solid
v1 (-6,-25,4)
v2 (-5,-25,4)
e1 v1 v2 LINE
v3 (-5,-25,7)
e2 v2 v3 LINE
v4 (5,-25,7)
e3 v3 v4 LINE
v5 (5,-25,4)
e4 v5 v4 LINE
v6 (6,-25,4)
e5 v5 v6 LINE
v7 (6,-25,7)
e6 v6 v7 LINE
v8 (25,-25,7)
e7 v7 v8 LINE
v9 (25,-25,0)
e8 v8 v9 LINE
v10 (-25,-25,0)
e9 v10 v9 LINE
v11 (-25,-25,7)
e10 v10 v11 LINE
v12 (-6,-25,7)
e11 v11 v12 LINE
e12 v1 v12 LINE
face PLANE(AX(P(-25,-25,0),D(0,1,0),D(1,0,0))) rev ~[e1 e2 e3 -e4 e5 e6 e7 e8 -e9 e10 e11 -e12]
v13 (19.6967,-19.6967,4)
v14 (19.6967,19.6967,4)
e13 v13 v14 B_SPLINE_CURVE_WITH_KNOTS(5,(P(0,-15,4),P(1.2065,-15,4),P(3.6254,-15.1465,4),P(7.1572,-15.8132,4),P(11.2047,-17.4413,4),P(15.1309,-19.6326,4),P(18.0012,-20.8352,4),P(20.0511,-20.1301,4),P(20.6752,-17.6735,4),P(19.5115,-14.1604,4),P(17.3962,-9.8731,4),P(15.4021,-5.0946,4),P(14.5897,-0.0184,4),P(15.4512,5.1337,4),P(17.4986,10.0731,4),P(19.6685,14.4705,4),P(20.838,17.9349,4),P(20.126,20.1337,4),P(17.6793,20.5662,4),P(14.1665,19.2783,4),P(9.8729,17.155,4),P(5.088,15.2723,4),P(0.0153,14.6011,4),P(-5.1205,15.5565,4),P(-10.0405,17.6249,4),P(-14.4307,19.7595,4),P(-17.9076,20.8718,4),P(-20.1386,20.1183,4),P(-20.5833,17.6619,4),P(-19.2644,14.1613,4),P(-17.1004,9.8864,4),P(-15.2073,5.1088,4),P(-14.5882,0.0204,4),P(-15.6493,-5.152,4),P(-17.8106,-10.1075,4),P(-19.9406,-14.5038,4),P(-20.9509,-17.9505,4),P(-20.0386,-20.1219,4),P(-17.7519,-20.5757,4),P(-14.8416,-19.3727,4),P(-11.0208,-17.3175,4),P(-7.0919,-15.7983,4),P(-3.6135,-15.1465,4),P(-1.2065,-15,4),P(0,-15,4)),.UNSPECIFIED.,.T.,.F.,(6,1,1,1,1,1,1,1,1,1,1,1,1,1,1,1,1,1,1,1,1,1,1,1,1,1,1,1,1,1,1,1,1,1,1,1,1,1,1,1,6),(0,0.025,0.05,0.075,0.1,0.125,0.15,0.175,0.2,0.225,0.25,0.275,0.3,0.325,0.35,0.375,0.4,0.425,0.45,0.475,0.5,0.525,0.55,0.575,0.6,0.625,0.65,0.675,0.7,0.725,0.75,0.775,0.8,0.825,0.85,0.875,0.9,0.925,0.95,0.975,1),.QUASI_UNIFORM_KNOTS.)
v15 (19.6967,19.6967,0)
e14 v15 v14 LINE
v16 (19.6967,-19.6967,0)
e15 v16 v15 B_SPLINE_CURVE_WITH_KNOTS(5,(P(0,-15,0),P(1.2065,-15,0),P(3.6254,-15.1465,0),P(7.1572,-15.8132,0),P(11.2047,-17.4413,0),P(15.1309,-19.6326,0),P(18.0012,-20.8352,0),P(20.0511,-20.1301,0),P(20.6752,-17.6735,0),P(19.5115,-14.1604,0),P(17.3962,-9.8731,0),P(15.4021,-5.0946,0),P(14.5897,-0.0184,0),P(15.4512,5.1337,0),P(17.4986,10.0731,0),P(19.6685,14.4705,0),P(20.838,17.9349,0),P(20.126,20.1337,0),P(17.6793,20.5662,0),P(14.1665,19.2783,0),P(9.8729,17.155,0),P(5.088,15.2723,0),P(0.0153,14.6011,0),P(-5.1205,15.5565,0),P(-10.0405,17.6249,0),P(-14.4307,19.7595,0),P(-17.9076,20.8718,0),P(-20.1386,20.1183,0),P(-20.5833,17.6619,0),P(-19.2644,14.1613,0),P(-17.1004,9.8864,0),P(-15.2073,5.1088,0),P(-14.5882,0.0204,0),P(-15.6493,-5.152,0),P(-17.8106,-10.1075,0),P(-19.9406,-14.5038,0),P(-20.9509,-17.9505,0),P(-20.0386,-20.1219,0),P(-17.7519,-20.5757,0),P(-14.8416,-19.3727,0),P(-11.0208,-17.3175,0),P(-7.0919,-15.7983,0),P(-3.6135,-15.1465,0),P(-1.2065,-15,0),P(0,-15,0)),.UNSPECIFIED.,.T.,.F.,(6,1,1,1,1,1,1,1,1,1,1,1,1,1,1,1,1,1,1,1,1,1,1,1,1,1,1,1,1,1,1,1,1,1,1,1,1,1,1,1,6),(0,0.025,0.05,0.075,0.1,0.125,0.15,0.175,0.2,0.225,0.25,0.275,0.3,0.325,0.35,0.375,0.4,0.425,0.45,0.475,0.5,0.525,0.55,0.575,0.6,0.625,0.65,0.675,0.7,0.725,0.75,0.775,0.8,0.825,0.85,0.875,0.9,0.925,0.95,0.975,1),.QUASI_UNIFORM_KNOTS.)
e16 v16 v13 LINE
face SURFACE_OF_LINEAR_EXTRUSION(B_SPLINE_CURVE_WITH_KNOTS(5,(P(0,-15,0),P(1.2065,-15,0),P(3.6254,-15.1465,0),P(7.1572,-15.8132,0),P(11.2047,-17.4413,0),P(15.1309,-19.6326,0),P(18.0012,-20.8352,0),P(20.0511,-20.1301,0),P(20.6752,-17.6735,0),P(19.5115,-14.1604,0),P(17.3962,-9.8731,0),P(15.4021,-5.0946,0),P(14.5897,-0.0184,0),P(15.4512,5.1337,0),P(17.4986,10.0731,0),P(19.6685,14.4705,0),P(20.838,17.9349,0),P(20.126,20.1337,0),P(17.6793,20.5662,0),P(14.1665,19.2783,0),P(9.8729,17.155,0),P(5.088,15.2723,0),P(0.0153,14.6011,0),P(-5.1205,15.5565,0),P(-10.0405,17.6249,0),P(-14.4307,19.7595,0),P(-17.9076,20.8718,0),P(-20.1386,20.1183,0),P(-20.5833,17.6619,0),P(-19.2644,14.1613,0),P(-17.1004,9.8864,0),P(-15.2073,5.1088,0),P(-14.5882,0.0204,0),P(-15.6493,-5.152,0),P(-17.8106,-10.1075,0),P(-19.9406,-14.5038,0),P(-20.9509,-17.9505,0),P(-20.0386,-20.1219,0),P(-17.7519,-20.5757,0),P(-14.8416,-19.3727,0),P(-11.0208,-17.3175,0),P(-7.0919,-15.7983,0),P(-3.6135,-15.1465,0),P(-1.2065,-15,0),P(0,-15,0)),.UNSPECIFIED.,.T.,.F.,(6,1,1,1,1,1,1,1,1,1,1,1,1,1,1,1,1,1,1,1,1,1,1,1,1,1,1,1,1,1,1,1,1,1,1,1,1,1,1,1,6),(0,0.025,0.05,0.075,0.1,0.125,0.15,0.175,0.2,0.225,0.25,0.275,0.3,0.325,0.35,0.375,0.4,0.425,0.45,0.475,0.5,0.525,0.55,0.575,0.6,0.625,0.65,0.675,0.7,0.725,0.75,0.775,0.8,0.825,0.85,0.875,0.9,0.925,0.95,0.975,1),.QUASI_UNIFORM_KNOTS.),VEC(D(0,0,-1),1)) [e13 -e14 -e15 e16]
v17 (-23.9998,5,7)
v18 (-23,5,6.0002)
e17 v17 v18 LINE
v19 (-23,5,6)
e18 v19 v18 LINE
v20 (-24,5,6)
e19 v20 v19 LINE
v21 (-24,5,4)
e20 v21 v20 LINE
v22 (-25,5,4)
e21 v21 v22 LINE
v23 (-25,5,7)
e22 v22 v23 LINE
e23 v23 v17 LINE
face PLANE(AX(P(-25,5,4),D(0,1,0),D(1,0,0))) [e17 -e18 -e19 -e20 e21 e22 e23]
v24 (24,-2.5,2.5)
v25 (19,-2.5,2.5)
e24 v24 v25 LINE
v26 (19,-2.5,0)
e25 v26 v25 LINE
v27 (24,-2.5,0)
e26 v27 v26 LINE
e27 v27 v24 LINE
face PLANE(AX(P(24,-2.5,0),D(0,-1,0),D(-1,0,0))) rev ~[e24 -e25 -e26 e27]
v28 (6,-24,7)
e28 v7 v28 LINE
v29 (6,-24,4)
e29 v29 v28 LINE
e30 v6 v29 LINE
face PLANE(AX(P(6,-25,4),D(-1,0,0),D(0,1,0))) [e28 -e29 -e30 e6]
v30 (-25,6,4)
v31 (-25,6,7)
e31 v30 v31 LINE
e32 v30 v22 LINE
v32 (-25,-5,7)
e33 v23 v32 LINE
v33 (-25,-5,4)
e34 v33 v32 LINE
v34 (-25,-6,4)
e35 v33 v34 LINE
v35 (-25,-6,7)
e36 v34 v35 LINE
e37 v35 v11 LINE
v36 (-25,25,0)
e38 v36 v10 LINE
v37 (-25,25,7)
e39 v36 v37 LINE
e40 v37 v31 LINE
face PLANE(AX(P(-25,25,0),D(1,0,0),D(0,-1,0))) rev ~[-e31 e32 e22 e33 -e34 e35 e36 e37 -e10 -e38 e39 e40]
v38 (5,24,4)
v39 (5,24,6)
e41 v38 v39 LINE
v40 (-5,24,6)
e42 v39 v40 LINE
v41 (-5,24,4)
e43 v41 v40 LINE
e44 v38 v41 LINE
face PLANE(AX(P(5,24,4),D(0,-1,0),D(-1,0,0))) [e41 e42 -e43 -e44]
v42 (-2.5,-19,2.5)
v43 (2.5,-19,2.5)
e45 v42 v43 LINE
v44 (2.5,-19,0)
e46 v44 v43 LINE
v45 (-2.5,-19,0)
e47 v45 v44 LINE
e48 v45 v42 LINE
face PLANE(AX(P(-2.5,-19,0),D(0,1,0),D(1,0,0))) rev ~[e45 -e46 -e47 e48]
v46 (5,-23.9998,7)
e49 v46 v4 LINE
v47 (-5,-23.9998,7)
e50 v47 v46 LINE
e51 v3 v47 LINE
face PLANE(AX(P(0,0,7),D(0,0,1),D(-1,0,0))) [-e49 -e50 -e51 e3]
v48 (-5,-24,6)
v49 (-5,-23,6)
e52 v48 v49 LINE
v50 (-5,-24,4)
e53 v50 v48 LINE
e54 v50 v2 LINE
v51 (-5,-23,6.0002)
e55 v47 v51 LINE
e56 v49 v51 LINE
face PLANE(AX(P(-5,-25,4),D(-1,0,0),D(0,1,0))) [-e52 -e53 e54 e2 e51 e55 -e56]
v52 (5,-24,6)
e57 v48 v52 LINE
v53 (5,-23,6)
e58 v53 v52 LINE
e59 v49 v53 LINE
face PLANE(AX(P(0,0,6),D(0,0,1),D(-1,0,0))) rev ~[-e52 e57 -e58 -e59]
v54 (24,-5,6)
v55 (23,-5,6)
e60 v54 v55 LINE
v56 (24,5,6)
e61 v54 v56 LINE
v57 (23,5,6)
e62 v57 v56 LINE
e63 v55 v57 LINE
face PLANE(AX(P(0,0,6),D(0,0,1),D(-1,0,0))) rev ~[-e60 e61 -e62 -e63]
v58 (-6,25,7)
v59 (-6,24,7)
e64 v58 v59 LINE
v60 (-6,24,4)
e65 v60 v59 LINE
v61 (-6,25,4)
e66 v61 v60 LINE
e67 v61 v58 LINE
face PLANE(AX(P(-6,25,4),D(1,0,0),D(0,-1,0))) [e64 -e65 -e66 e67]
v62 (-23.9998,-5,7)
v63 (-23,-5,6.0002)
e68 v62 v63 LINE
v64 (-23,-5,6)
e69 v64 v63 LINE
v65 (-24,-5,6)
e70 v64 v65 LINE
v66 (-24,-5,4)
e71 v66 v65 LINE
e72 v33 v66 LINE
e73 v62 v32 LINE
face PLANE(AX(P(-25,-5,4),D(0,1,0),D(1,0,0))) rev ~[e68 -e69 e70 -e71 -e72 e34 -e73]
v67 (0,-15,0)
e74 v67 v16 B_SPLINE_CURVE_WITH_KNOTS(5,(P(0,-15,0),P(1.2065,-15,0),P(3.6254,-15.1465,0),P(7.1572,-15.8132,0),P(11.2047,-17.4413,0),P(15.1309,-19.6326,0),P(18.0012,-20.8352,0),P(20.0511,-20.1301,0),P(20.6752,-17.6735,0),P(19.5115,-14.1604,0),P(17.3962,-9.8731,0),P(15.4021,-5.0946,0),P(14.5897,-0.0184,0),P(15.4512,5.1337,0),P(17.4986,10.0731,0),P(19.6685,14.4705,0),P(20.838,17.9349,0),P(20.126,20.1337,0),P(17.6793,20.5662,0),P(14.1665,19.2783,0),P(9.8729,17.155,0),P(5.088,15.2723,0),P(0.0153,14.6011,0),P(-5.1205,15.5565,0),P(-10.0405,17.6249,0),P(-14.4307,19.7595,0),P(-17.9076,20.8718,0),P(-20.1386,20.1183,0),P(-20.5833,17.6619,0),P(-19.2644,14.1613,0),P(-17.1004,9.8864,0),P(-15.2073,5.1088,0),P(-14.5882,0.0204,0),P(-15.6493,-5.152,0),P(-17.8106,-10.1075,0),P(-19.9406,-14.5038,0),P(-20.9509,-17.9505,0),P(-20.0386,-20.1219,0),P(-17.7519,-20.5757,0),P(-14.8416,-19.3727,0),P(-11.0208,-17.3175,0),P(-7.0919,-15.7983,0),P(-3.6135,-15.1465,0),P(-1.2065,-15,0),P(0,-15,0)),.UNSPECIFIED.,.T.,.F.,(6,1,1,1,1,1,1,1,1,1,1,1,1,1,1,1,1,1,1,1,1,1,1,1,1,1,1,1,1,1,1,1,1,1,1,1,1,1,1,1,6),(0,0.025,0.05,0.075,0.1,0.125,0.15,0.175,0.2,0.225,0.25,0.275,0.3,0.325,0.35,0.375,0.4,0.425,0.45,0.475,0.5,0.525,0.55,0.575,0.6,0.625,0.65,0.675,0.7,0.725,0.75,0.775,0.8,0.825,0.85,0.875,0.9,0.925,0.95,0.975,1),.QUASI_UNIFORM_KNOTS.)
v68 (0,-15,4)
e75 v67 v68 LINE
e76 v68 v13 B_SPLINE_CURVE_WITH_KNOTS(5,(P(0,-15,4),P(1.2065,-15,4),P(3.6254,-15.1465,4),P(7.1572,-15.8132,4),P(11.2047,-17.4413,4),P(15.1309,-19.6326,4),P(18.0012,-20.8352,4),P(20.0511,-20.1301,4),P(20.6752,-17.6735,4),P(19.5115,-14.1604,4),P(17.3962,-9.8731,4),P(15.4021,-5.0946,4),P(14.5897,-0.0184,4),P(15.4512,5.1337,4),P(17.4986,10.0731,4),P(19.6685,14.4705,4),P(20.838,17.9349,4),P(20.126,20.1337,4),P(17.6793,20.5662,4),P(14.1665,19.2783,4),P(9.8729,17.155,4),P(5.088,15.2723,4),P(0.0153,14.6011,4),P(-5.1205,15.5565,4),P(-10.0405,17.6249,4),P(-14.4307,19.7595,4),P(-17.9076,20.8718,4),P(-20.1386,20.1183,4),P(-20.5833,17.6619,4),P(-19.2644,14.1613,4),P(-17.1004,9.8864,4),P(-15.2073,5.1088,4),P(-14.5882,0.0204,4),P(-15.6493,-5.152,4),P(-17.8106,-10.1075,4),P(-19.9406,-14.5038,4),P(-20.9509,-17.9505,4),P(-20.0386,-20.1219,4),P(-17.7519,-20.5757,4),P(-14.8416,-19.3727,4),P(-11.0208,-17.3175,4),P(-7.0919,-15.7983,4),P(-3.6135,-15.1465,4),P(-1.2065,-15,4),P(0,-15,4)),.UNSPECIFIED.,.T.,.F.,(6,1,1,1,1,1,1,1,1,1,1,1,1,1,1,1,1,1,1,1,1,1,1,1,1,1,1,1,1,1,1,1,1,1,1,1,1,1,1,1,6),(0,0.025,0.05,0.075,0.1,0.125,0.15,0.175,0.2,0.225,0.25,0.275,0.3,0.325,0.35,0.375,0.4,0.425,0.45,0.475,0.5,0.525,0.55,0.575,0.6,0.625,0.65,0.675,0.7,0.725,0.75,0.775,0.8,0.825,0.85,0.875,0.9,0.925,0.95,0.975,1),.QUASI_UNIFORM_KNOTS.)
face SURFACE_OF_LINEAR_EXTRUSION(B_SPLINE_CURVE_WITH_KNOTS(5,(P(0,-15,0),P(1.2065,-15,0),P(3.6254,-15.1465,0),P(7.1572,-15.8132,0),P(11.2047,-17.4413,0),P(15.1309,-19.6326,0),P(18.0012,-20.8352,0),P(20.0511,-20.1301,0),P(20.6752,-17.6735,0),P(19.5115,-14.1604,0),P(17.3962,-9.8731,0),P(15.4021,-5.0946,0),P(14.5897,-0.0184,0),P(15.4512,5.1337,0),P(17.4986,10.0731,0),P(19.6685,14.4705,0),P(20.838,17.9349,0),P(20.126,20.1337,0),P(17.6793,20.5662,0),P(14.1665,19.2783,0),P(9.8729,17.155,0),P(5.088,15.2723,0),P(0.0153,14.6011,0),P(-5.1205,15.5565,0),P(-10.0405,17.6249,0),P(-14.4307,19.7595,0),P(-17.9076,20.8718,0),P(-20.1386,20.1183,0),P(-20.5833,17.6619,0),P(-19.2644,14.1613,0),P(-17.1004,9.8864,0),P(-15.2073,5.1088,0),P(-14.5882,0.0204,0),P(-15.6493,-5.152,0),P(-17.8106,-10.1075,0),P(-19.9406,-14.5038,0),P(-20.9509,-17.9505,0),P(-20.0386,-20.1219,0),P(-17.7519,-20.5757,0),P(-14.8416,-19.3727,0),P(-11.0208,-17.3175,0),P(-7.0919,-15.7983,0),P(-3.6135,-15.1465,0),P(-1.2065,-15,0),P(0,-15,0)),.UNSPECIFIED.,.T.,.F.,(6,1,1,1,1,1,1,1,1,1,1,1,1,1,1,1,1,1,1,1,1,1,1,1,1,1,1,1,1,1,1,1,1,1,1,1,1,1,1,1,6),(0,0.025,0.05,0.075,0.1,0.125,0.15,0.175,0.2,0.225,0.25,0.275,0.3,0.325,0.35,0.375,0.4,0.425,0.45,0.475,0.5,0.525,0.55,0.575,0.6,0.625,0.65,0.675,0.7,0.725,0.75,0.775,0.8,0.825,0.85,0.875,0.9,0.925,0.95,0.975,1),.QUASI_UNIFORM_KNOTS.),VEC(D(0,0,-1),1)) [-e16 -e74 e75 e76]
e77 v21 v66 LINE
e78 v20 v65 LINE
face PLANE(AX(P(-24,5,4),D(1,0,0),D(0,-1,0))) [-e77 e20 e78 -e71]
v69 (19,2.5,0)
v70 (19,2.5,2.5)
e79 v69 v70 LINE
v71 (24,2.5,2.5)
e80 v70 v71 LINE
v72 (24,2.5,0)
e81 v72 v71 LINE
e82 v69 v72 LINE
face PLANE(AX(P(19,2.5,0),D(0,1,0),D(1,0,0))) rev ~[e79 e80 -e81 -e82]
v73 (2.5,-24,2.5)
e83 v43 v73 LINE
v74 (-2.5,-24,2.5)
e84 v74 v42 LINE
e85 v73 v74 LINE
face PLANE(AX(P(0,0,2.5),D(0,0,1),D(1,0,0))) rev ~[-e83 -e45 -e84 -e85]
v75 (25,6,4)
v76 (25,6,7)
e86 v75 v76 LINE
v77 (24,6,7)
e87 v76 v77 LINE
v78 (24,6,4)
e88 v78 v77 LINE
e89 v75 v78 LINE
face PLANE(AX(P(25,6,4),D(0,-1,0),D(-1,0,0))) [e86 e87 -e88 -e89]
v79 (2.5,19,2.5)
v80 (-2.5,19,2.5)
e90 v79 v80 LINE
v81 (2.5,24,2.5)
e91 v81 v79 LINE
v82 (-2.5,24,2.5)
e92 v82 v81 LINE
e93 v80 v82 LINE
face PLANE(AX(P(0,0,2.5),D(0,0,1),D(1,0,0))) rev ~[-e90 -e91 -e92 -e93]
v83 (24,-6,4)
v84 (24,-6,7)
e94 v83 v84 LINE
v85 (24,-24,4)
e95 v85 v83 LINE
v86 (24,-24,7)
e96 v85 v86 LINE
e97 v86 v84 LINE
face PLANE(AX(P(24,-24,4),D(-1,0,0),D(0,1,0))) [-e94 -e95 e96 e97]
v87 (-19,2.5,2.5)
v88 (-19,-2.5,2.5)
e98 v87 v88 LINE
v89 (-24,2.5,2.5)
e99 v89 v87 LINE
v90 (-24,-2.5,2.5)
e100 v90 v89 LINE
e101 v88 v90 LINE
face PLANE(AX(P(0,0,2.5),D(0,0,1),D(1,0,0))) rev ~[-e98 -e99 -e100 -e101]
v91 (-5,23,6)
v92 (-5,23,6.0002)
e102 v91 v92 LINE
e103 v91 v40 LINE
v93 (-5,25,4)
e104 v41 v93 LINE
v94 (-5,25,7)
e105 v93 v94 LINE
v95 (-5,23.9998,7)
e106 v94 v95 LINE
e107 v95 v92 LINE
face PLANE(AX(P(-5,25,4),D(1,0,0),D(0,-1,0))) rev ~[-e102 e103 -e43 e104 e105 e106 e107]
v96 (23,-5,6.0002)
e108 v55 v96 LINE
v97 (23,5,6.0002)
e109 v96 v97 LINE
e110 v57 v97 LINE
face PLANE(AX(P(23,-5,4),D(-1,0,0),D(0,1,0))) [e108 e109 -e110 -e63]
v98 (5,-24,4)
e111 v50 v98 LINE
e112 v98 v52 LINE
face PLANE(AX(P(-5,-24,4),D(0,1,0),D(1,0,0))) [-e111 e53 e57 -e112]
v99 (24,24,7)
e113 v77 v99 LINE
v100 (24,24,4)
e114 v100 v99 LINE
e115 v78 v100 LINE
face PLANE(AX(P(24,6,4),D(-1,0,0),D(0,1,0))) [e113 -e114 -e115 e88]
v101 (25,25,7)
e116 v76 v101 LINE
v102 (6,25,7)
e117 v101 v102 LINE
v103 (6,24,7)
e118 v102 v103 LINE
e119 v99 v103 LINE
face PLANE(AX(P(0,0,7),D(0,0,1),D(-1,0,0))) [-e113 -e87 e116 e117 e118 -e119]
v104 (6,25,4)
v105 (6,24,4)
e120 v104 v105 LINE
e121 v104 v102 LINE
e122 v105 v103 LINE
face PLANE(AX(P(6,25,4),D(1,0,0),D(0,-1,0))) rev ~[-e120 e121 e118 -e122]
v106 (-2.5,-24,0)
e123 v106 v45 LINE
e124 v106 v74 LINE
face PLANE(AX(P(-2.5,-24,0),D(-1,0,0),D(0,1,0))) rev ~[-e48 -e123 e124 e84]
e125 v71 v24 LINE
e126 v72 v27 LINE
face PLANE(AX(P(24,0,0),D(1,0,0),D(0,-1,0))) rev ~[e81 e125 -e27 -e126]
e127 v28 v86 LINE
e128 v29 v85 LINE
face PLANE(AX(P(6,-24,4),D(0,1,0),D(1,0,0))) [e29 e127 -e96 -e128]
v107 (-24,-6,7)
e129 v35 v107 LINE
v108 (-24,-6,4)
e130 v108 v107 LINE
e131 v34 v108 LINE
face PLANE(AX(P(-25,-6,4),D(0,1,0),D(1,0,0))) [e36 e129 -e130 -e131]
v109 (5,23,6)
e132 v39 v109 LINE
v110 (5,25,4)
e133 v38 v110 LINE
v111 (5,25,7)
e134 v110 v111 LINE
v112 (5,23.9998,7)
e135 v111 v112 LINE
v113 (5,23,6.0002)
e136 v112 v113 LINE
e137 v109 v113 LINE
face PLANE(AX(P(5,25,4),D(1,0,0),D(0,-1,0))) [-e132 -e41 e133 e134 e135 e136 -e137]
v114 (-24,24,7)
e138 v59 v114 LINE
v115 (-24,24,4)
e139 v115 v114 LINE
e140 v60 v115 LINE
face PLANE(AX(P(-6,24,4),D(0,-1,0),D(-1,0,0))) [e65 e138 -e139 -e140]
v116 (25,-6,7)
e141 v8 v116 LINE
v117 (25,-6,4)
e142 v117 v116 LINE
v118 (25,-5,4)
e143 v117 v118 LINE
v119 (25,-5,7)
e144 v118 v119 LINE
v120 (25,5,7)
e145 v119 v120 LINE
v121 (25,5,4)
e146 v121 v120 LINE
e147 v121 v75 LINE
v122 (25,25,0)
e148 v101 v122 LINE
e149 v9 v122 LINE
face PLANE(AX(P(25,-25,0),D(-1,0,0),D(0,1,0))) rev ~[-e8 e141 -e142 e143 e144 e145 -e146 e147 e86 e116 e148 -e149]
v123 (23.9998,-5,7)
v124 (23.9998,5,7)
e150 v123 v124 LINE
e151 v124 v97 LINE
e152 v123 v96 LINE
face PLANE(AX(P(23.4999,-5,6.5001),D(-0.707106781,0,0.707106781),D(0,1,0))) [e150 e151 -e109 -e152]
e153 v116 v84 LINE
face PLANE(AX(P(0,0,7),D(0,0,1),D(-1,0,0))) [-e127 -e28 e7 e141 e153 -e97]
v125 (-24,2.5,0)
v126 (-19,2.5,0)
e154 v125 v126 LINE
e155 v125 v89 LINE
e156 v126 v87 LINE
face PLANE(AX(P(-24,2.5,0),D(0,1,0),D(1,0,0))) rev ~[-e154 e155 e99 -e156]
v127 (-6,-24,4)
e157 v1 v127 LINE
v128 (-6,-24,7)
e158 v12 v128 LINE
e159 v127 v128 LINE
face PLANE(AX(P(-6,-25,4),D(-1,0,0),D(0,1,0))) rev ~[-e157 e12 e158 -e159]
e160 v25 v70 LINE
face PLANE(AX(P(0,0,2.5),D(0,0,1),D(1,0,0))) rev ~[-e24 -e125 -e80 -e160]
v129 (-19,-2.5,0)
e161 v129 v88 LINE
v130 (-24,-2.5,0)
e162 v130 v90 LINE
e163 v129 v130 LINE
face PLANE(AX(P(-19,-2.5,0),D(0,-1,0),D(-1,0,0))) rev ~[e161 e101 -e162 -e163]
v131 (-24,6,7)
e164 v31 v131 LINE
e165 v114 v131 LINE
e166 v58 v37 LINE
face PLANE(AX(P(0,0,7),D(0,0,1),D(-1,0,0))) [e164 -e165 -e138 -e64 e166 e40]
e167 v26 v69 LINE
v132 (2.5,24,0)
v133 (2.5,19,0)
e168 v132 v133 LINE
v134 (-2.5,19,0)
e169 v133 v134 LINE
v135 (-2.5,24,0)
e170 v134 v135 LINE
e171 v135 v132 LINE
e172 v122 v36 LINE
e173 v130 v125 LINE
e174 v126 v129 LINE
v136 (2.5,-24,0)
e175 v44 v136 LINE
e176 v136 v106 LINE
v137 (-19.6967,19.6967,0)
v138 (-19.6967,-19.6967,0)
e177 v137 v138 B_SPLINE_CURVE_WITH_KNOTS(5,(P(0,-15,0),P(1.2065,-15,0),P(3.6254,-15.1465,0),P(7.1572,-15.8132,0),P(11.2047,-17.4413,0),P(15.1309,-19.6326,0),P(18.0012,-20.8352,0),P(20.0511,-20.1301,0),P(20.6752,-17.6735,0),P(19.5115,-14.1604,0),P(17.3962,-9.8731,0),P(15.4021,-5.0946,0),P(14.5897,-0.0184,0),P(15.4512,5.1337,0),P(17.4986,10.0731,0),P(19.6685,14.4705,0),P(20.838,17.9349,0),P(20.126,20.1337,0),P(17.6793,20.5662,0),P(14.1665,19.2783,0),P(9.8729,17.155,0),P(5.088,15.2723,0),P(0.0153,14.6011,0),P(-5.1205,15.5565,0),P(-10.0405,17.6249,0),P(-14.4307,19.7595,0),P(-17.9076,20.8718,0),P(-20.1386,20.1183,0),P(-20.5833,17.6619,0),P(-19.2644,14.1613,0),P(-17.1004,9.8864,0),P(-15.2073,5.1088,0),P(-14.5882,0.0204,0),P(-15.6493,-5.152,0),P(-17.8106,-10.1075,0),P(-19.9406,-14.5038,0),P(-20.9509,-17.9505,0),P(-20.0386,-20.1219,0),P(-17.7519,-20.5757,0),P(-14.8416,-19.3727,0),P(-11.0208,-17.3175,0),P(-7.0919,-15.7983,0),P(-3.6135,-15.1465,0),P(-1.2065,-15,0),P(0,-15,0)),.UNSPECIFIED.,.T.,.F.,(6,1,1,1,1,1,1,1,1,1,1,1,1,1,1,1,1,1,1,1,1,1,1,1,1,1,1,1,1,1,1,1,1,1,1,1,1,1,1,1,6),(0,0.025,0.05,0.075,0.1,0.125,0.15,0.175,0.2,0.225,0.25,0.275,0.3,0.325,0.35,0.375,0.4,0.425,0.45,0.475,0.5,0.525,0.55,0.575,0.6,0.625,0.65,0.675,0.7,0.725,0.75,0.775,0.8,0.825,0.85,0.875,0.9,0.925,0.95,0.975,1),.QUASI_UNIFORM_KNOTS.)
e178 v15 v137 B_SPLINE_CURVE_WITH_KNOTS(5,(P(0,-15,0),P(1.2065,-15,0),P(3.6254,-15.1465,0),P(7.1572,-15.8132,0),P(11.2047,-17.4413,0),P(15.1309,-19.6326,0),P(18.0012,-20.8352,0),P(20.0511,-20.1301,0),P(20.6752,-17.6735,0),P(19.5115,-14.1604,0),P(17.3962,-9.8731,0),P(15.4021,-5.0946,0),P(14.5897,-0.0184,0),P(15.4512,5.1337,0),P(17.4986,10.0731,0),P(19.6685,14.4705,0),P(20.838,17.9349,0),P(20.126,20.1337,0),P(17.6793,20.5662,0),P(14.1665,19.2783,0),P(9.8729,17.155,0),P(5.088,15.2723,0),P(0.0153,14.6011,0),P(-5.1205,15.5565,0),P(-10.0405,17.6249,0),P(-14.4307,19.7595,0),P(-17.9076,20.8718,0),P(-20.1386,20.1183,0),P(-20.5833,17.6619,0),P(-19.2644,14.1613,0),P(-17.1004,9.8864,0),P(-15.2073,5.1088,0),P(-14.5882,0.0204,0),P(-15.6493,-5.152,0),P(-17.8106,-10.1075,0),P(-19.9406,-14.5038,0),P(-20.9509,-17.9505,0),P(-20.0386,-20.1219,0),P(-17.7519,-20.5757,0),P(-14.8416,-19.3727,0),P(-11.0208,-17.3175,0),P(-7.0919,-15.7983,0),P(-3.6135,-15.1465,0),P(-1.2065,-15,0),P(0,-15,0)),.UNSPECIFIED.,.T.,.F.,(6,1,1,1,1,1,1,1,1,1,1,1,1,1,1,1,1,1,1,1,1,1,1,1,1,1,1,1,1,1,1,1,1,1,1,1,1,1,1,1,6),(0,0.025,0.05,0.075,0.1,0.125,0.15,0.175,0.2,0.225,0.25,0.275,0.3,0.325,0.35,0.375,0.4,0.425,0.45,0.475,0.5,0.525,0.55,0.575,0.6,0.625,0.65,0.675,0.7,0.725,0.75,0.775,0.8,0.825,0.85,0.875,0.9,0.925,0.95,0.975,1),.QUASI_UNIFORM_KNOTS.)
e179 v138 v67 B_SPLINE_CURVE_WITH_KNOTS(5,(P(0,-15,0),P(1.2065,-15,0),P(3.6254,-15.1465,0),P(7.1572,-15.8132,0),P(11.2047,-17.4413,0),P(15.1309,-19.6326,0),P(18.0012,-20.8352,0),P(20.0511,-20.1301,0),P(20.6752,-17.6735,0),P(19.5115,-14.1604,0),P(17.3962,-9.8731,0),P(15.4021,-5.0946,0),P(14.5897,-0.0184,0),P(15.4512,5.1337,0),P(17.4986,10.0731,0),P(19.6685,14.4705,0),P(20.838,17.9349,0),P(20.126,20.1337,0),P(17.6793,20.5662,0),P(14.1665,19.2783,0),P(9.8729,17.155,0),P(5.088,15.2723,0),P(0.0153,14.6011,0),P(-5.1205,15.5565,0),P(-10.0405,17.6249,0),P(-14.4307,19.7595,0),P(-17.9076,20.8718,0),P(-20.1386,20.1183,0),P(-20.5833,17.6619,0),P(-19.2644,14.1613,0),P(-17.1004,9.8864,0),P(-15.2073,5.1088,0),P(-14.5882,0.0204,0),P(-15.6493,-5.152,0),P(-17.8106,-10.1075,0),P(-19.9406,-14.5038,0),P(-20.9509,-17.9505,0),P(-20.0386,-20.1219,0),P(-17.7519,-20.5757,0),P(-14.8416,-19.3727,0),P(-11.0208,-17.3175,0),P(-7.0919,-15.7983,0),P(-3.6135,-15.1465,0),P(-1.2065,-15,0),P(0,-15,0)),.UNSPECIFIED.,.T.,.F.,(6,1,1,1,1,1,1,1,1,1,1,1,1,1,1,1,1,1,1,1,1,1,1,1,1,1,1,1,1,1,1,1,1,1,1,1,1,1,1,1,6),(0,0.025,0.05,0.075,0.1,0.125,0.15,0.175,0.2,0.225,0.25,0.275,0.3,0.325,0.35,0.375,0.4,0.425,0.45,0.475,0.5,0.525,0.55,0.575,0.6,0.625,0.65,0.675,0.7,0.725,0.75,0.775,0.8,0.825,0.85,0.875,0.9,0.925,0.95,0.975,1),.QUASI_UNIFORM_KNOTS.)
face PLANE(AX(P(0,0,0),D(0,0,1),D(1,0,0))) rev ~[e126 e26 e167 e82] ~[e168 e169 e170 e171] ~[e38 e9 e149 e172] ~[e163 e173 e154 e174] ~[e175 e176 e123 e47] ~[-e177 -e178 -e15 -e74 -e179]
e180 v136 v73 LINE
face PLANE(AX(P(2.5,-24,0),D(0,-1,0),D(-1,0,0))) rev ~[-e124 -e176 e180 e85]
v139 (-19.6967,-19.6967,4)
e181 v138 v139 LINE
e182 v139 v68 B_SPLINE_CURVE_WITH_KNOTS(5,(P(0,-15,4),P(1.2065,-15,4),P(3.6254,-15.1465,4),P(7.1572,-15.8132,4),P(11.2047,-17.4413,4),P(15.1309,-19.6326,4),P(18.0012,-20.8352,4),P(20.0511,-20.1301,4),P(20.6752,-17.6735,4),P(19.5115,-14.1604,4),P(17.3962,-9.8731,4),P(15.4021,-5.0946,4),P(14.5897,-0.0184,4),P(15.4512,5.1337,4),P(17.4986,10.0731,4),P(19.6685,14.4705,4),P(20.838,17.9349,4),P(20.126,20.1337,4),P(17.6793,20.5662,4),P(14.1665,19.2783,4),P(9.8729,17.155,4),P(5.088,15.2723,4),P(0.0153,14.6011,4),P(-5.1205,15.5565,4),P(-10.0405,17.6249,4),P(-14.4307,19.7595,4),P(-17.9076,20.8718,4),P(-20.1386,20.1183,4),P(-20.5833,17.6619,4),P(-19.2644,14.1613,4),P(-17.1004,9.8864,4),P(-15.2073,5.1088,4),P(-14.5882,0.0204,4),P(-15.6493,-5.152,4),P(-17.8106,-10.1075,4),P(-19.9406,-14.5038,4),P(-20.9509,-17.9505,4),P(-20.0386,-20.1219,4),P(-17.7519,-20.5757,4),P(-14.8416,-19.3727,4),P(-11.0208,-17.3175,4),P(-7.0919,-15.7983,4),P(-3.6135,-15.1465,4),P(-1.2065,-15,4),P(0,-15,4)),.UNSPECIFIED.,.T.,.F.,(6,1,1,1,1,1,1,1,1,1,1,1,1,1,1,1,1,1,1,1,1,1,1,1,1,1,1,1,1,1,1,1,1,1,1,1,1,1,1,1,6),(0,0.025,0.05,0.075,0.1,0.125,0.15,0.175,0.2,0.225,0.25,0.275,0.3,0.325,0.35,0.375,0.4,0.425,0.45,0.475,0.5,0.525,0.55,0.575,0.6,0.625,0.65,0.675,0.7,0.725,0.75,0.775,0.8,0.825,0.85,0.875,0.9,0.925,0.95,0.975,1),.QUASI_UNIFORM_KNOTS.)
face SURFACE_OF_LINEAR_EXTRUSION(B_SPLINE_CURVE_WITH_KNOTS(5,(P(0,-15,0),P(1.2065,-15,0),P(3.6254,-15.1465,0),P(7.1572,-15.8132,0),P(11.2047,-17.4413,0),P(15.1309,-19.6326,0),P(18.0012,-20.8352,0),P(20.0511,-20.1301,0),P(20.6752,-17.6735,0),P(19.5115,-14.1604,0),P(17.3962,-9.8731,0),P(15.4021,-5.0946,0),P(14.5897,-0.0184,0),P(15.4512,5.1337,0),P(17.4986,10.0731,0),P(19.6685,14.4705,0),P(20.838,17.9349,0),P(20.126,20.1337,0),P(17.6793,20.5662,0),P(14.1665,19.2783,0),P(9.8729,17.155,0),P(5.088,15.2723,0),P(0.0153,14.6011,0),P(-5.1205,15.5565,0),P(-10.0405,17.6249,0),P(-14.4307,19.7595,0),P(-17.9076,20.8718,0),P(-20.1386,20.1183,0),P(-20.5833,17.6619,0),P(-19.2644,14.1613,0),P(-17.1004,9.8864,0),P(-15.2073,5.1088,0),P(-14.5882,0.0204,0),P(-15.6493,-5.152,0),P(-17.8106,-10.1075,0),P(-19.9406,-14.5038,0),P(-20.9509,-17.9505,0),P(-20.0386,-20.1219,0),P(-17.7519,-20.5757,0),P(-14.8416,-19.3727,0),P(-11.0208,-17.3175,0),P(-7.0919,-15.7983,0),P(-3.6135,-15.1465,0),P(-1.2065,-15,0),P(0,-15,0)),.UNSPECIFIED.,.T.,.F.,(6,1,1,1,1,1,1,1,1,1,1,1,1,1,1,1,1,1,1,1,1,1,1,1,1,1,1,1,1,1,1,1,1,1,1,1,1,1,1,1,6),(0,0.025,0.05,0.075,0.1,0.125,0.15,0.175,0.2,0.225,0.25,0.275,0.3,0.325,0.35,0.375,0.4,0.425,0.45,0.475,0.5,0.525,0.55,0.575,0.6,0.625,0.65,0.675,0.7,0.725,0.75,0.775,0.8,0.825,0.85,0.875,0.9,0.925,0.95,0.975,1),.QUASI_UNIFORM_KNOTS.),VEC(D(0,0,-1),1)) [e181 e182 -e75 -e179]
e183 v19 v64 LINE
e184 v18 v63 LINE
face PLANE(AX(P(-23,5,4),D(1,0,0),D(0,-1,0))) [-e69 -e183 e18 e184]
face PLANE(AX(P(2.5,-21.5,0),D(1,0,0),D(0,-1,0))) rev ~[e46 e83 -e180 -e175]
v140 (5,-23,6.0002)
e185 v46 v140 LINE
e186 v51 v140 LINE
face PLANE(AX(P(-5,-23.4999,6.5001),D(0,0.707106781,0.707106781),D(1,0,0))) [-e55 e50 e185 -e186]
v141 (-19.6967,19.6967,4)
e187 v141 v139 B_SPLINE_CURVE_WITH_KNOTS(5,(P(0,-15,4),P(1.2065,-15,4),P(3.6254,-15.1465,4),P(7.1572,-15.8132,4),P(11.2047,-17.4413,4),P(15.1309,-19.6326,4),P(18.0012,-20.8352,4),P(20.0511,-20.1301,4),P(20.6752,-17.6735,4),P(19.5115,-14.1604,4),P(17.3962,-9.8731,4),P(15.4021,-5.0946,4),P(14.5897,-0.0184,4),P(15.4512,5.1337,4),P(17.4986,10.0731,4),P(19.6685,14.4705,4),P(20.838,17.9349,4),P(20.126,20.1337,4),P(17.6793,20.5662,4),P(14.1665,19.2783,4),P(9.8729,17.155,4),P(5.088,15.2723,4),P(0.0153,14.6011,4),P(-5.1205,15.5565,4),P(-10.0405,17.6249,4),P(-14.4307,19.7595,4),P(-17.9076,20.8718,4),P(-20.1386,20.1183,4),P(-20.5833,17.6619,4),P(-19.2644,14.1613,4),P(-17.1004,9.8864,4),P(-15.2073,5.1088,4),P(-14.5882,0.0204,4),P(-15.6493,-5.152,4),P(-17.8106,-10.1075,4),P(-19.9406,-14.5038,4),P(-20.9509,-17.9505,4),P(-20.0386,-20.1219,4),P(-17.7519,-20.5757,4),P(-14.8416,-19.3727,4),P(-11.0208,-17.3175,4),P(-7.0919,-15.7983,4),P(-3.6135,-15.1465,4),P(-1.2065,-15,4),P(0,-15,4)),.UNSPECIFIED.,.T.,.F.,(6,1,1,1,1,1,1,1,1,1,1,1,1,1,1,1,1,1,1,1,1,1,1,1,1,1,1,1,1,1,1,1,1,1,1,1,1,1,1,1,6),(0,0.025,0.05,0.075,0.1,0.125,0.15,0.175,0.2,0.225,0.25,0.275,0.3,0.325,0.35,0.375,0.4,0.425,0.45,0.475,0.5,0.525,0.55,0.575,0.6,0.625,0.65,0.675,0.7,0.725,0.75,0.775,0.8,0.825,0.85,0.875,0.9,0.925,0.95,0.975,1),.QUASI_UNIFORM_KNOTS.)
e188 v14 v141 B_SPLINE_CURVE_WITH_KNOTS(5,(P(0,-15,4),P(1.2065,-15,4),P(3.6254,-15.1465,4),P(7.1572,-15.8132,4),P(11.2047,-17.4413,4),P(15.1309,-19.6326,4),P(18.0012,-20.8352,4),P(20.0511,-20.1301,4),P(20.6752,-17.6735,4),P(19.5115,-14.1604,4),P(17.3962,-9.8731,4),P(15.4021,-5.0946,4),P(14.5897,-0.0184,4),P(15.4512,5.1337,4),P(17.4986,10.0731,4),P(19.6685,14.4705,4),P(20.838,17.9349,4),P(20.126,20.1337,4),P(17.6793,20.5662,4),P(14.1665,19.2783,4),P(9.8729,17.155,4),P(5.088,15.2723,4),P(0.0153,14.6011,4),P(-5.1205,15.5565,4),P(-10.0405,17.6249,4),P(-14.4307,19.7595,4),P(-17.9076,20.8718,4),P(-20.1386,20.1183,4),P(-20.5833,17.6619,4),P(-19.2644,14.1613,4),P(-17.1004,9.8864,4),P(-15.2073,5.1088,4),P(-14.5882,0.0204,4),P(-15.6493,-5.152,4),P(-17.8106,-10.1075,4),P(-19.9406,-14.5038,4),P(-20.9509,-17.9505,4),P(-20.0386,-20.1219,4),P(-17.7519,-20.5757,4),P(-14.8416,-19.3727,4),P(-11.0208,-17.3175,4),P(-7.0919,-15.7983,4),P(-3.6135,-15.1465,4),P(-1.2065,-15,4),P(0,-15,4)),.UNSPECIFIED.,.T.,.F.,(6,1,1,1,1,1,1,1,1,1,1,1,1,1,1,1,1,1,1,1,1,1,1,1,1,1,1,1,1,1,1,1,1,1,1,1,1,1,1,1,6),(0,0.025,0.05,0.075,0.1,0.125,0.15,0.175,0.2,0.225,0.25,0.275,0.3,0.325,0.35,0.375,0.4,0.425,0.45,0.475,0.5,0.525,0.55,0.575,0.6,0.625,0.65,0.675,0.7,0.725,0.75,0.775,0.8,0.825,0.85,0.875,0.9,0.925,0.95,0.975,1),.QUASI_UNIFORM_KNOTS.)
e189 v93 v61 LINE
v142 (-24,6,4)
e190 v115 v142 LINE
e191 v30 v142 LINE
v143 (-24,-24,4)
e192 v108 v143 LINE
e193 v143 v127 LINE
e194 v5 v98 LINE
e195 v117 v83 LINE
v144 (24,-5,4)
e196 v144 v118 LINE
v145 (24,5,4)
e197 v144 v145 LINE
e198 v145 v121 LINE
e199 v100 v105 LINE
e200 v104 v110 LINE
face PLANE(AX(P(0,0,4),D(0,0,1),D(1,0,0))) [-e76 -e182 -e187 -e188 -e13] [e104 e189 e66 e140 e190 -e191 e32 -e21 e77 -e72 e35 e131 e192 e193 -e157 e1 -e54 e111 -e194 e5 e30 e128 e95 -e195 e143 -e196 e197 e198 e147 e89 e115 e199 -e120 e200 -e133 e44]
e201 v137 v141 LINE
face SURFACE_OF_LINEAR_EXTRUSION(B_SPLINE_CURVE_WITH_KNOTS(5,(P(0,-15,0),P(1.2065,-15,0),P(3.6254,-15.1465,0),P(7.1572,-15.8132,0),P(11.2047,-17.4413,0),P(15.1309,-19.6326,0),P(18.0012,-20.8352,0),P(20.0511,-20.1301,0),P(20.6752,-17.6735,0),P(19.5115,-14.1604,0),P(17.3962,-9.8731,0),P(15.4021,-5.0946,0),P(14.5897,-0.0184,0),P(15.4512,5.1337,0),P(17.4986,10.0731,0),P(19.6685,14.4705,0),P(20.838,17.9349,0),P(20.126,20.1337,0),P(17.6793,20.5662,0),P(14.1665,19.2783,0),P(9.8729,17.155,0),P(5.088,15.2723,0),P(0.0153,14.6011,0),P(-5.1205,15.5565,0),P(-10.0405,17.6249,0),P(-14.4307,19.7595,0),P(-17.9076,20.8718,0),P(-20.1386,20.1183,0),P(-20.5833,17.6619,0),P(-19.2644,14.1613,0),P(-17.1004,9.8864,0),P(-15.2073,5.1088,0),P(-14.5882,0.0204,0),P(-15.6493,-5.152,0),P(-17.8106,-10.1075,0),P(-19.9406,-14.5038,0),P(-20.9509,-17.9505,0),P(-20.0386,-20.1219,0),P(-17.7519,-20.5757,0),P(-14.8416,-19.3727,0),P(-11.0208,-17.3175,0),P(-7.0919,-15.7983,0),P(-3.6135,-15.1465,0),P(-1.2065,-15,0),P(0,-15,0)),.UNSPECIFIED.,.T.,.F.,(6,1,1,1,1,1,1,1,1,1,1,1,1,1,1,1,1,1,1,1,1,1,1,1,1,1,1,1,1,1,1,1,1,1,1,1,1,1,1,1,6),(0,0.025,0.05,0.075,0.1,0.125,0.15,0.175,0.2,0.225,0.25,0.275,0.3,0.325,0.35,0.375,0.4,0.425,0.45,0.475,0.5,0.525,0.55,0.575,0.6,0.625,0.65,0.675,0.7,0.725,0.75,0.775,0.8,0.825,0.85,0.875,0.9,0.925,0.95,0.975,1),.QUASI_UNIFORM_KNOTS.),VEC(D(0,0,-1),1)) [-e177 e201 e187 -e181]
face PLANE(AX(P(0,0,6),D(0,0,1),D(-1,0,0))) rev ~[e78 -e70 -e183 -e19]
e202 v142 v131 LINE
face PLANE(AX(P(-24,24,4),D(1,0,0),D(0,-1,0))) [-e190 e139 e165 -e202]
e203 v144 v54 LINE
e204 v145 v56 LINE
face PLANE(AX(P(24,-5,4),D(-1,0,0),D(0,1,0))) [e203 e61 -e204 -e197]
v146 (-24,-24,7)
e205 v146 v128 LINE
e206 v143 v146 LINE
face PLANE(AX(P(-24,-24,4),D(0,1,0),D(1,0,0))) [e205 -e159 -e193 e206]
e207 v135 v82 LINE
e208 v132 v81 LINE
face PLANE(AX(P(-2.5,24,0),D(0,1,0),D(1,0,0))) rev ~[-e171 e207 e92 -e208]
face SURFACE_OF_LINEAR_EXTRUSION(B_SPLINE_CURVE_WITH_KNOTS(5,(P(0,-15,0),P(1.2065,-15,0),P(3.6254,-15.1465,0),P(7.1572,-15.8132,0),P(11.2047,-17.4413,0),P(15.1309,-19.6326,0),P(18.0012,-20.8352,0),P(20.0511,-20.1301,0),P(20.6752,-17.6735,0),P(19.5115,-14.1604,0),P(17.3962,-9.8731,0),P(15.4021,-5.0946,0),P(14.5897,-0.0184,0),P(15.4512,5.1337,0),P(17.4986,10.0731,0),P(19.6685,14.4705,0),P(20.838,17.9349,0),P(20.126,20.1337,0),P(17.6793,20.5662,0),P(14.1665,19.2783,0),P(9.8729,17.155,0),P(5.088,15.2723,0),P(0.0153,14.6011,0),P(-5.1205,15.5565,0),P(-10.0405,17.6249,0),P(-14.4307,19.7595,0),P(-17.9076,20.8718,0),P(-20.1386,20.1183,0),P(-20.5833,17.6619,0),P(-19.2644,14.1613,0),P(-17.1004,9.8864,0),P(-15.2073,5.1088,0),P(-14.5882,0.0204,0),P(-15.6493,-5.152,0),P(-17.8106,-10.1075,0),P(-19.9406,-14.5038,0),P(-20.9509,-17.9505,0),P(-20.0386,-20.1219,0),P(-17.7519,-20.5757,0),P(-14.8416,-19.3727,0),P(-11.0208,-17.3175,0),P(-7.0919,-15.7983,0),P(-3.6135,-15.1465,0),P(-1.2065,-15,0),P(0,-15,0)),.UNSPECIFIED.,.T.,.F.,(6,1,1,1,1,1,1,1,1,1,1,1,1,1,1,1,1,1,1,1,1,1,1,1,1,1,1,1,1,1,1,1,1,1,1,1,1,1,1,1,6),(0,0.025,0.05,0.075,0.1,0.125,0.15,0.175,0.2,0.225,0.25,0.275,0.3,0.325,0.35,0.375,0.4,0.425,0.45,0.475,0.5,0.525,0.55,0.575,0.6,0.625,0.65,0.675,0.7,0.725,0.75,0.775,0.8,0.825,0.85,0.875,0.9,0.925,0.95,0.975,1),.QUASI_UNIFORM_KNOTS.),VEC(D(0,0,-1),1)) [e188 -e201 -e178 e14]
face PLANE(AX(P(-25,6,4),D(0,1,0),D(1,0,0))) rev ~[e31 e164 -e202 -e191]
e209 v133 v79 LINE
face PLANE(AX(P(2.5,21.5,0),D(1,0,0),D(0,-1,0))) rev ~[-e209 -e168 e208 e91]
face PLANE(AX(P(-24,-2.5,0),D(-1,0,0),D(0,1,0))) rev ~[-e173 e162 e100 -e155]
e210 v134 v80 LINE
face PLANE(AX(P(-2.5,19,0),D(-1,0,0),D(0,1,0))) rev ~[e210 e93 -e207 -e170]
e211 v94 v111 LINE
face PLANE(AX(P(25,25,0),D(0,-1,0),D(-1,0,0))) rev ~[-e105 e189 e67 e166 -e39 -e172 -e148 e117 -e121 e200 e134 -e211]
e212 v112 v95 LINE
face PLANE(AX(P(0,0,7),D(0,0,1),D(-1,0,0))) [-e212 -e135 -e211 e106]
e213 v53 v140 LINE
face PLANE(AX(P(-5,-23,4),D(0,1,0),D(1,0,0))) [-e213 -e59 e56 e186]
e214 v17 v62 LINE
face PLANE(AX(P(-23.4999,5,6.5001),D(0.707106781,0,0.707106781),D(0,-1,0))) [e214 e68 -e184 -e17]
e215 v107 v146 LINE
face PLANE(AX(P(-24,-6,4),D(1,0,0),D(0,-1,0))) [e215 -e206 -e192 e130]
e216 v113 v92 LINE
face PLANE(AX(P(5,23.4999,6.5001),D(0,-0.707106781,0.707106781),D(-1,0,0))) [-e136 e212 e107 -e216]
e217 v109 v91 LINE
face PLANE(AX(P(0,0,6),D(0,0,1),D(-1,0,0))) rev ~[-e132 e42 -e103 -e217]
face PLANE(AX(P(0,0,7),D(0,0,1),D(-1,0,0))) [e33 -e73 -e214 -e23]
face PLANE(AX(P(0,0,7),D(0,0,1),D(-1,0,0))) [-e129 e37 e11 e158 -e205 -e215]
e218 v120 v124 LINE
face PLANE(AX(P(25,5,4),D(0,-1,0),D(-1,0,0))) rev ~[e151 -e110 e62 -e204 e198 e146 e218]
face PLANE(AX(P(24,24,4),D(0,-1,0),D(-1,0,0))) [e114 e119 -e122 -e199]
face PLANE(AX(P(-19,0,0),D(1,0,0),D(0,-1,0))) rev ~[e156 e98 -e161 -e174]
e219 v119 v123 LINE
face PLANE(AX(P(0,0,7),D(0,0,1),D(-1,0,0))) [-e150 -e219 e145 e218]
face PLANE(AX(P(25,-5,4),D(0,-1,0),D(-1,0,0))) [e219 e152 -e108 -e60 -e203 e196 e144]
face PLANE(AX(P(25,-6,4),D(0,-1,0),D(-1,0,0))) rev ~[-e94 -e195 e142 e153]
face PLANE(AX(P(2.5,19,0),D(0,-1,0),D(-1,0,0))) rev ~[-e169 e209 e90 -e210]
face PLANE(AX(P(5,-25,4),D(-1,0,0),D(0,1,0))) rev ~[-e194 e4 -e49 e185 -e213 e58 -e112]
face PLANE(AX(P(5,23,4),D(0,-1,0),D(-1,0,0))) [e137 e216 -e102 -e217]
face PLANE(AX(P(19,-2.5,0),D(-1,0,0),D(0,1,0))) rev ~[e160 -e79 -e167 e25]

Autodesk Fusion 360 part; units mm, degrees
sketch "Skizze1" plane through (0, 0, 0) normal (0, 0, 1) x (1, 0, 0)
  line L0 (25, 25) -> (-25, 25)
  line L1 (-25, 25) -> (-25, -25)
  line L2 (-25, -25) -> (25, -25)
  line L3 (25, -25) -> (25, 25)
  line L4 (25, 25) -> (-25, -25) construction
  line L5 (-25, 25) -> (25, -25) construction
  line L6 (0, 25) -> (0, 21.5) construction
  circle A0 centre (0, 21.5) radius 2.5
  circle A1 centre (-21.5, 0) radius 2.5
  circle A2 centre (0, -21.5) radius 2.5
  circle A3 centre (21.5, 0) radius 2.5
  line L7 (-25, 25) -> (-19.6967, 19.6967)
  line L8 (25, 25) -> (19.6967, 19.6967)
  line L9 (25, -25) -> (19.6967, -19.6967)
  line L10 (-25, -25) -> (-19.6967, -19.6967)
  line L11 (0, 25) -> (0, 15) construction
  line L12 (25, 0) -> (15, 0) construction
  line L13 (0, -25) -> (0, -15) construction
  line L14 (-25, 0) -> (-15, 0) construction
  spline S0 degree 5 poles (0, -15) (1.2065, -15) (3.6254, -15.1465) (7.1572, -15.8132) (11.2047, -17.4413) (15.1309, -19.6326) (18.0012, -20.8352) (20.0511, -20.1301) (20.6752, -17.6735) (19.5115, -14.1604) (17.3962, -9.8731) (15.4021, -5.0946) (14.5897, -0.0184) (15.4512, 5.1337) (17.4986, 10.0731) (19.6685, 14.4705) (20.838, 17.9349) (20.126, 20.1337) (17.6793, 20.5662) (14.1665, 19.2783) (9.8729, 17.155) (5.088, 15.2723) (0.0153, 14.6011) (-5.1205, 15.5565) (-10.0405, 17.6249) (-14.4307, 19.7595) (-17.9076, 20.8718) (-20.1386, 20.1183) (-20.5833, 17.6619) (-19.2644, 14.1613) (-17.1004, 9.8864) (-15.2073, 5.1088) (-14.5882, 0.0204) (-15.6493, -5.152) (-17.8106, -10.1075) (-19.9406, -14.5038) (-20.9509, -17.9505) (-20.0386, -20.1219) (-17.7519, -20.5757) (-14.8416, -19.3727) (-11.0208, -17.3175) (-7.0919, -15.7983) (-3.6135, -15.1465) (-1.2065, -15) (0, -15) knots 0 0 0 0 0 0 0.025 0.05 0.075 0.1 0.125 0.15 0.175 0.2 0.225 0.25 0.275 0.3 0.325 0.35 0.375 0.4 0.425 0.45 0.475 0.5 0.525 0.55 0.575 0.6 0.625 0.65 0.675 0.7 0.725 0.75 0.775 0.8 0.825 0.85 0.875 0.9 0.925 0.95 0.975 1 1 1 1 1 1
  line L15 (-21.5565, -18.1362) -> (-17.8369, -21.2572)
  line L16 (-8.8743, -15) -> (8.8743, -15)
  line L17 (21.5565, 18.1362) -> (17.8369, 21.2572)
  line L18 (18.1362, -21.5565) -> (21.2572, -17.8369)
  line L19 (-18.1127, 21.5869) -> (-21.2807, 17.8065)
  line L20 (2.5, 19) -> (-2.5, 19)
  line L21 (-2.5, 19) -> (-2.5, 24)
  line L22 (-2.5, 24) -> (2.5, 24)
  line L23 (2.5, 24) -> (2.5, 19)
  line L24 (2.5, 19) -> (-2.5, 24) construction
  line L25 (-2.5, 19) -> (2.5, 24) construction
  line L26 (-19, 2.5) -> (-19, -2.5)
  line L27 (-24, 2.5) -> (-19, 2.5)
  line L28 (-24, -2.5) -> (-24, 2.5)
  line L29 (-19, -2.5) -> (-24, -2.5)
  line L30 (-2.5, -19) -> (2.5, -19)
  line L31 (-2.5, -24) -> (-2.5, -19)
  line L32 (2.5, -24) -> (-2.5, -24)
  line L33 (2.5, -19) -> (2.5, -24)
  line L34 (19, -2.5) -> (19, 2.5)
  line L35 (24, -2.5) -> (19, -2.5)
  line L36 (24, 2.5) -> (24, -2.5)
  line L37 (19, 2.5) -> (24, 2.5)
  point P0 (0, 21.5)
  dimension "d1" = 50
  dimension "d2" = 50
  dimension "d4" = 5
  dimension "d6" = 360
  dimension "d7" = 7.5
  dimension "d8" = 7.5
  dimension "d9" = 7.5
  dimension "d10" = 7.5
  dimension "d11" = 10
  dimension "d12" = 10
  dimension "d13" = 10
  dimension "d14" = 10
  dimension "d39" = 5
  dimension "d40" = 5
  dimension "d42" = 360
  dimension "d43" = 3.5
extrude "Extrusion1" add sketch "Skizze1" along normal blind 4 contours L0 L7 L8 S0 | L3 L8 L9 S0 | L1 L7 L10 S0 | L2 L9 L10 S0 | A0 | A0 L20 L23 | A0 L22 L23 | A0 L21 L22 | A0 L20 L21 | A1 | A1 L26 L29 | A1 L26 L27 | A1 L27 L28 | A1 L28 L29 | A2 | A2 L32 L33 | A2 L30 L33 | A2 L30 L31 | A2 L31 L32 | A3 | A3 L35 L36 | A3 L36 L37 | A3 L34 L37 | A3 L34 L35
sketch "Skizze9" plane through (0, 0, 4) normal (0, 0, 1) x (-1, 0, 0)
  spline S0 degree 5 poles (0, 15) (1.2065, 15) (3.6135, 15.1465) (7.0919, 15.7983) (11.0208, 17.3175) (14.8416, 19.3727) (17.7519, 20.5757) (20.0386, 20.1219) (20.9509, 17.9505) (19.9406, 14.5038) (17.8106, 10.1075) (15.6493, 5.152) (14.5882, -0.0204) (15.2073, -5.1088) (17.1004, -9.8864) (19.2644, -14.1613) (20.5833, -17.6619) (20.1386, -20.1183) (17.9076, -20.8718) (14.4307, -19.7595) (10.0405, -17.6249) (5.1205, -15.5565) (-0.0153, -14.6011) (-5.088, -15.2723) (-9.8729, -17.155) (-14.1665, -19.2783) (-17.6793, -20.5662) (-20.126, -20.1337) (-20.838, -17.9349) (-19.6685, -14.4705) (-17.4986, -10.0731) (-15.4512, -5.1337) (-14.5897, 0.0184) (-15.4021, 5.0946) (-17.3962, 9.8731) (-19.5115, 14.1604) (-20.6752, 17.6735) (-20.0511, 20.1301) (-18.0012, 20.8352) (-15.1309, 19.6326) (-11.2047, 17.4413) (-7.1572, 15.8132) (-3.6254, 15.1465) (-1.2065, 15) (0, 15) knots -1 -1 -1 -1 -1 -1 -0.975 -0.95 -0.925 -0.9 -0.875 -0.85 -0.825 -0.8 -0.775 -0.75 -0.725 -0.7 -0.675 -0.65 -0.625 -0.6 -0.575 -0.55 -0.525 -0.5 -0.475 -0.45 -0.425 -0.4 -0.375 -0.35 -0.325 -0.3 -0.275 -0.25 -0.225 -0.2 -0.175 -0.15 -0.125 -0.1 -0.075 -0.05 -0.025 0 0 0 0 0 0
  line L0 (-25, 25) -> (-25, -25)
  line L1 (-25, -25) -> (25, -25)
  line L2 (25, -25) -> (25, 25)
  line L3 (25, 25) -> (-25, 25)
  line L4 (24, 24) -> (-24, 24)
  line L5 (-24, 24) -> (-24, -24)
  line L6 (-24, -24) -> (24, -24)
  line L7 (24, -24) -> (24, 24)
  line L8 (0, -25) -> (-5, -25)
  line L9 (-5, -25) -> (-5, -24)
  line L10 (-5, -25) -> (-6, -25)
  line L11 (-6, -25) -> (-6, -24)
  line L12 (0, -25) -> (0, -24) construction
  line L13 (6, -25) -> (6, -24)
  line L14 (5, -25) -> (5, -24)
  line L15 (5, -24) -> (-5, -24)
  line L16 (-5, -24) -> (-5, -23)
  line L17 (-5, -23) -> (5, -23)
  line L18 (5, -23) -> (5, -24)
  line L19 (25, 6) -> (24, 6)
  line L20 (25, 5) -> (24, 5)
  line L21 (23, 5) -> (24, 5)
  line L22 (23, -5) -> (23, 5)
  line L23 (25, -5) -> (24, -5)
  line L24 (25, -6) -> (24, -6)
  line L25 (24, -5) -> (23, -5)
  line L26 (-6, 25) -> (-6, 24)
  line L27 (-5, 25) -> (-5, 24)
  line L28 (-5, 23) -> (-5, 24)
  line L29 (5, 23) -> (-5, 23)
  line L30 (5, 25) -> (5, 24)
  line L31 (6, 25) -> (6, 24)
  line L32 (5, 24) -> (5, 23)
  line L33 (-25, -6) -> (-24, -6)
  line L34 (-25, -5) -> (-24, -5)
  line L35 (-23, -5) -> (-24, -5)
  line L36 (-23, 5) -> (-23, -5)
  line L37 (-25, 5) -> (-24, 5)
  line L38 (-25, 6) -> (-24, 6)
  line L39 (-24, 5) -> (-23, 5)
  dimension "d65" = -1
  dimension "d66" = 5
  dimension "d67" = 1
  dimension "d70" = 0
  dimension "d71" = 0
  dimension "d72" = 10
  dimension "d73" = 1
  dimension "d75" = 360
extrude "Extrusion12" add sketch "Skizze9" along normal blind 3 contours L0 L3 L4 L5 L26 L38 | L0 L5 L34 L37 | L3 L4 L27 L30 | L5 L35 L36 L39 | L4 L28 L29 L32 | L0 L1 L5 L6 L11 L33 | L2 L3 L4 L7 L19 L31 | L1 L6 L8 L9 L14 L15 | L2 L7 L20 L23 | L6 L15 L16 L17 L18 | L7 L21 L22 L25 | L1 L2 L6 L7 L13 L24
extrude "Extrusion13" cut sketch "Skizze9" along normal blind 2 contours L5 L35 L36 L39 | L4 L28 L29 L32 | L6 L15 L16 L17 L18 | L7 L21 L22 L25
chamfer "Fase1" distance 1 angle 45 4 edges at (23, 0, 7) (0, -23, 7) (-23, 0, 7) (0, 23, 7)
extrude "Extrusion14" cut sketch "Skizze1" along normal blind 2.5 contours A0 | A0 L20 L23 | A0 L22 L23 | A0 L21 L22 | A0 L20 L21 | A1 | A1 L26 L29 | A1 L26 L27 | A1 L27 L28 | A1 L28 L29 | A2 | A2 L32 L33 | A2 L30 L33 | A2 L30 L31 | A2 L31 L32 | A3 | A3 L35 L36 | A3 L36 L37 | A3 L34 L37 | A3 L34 L35
